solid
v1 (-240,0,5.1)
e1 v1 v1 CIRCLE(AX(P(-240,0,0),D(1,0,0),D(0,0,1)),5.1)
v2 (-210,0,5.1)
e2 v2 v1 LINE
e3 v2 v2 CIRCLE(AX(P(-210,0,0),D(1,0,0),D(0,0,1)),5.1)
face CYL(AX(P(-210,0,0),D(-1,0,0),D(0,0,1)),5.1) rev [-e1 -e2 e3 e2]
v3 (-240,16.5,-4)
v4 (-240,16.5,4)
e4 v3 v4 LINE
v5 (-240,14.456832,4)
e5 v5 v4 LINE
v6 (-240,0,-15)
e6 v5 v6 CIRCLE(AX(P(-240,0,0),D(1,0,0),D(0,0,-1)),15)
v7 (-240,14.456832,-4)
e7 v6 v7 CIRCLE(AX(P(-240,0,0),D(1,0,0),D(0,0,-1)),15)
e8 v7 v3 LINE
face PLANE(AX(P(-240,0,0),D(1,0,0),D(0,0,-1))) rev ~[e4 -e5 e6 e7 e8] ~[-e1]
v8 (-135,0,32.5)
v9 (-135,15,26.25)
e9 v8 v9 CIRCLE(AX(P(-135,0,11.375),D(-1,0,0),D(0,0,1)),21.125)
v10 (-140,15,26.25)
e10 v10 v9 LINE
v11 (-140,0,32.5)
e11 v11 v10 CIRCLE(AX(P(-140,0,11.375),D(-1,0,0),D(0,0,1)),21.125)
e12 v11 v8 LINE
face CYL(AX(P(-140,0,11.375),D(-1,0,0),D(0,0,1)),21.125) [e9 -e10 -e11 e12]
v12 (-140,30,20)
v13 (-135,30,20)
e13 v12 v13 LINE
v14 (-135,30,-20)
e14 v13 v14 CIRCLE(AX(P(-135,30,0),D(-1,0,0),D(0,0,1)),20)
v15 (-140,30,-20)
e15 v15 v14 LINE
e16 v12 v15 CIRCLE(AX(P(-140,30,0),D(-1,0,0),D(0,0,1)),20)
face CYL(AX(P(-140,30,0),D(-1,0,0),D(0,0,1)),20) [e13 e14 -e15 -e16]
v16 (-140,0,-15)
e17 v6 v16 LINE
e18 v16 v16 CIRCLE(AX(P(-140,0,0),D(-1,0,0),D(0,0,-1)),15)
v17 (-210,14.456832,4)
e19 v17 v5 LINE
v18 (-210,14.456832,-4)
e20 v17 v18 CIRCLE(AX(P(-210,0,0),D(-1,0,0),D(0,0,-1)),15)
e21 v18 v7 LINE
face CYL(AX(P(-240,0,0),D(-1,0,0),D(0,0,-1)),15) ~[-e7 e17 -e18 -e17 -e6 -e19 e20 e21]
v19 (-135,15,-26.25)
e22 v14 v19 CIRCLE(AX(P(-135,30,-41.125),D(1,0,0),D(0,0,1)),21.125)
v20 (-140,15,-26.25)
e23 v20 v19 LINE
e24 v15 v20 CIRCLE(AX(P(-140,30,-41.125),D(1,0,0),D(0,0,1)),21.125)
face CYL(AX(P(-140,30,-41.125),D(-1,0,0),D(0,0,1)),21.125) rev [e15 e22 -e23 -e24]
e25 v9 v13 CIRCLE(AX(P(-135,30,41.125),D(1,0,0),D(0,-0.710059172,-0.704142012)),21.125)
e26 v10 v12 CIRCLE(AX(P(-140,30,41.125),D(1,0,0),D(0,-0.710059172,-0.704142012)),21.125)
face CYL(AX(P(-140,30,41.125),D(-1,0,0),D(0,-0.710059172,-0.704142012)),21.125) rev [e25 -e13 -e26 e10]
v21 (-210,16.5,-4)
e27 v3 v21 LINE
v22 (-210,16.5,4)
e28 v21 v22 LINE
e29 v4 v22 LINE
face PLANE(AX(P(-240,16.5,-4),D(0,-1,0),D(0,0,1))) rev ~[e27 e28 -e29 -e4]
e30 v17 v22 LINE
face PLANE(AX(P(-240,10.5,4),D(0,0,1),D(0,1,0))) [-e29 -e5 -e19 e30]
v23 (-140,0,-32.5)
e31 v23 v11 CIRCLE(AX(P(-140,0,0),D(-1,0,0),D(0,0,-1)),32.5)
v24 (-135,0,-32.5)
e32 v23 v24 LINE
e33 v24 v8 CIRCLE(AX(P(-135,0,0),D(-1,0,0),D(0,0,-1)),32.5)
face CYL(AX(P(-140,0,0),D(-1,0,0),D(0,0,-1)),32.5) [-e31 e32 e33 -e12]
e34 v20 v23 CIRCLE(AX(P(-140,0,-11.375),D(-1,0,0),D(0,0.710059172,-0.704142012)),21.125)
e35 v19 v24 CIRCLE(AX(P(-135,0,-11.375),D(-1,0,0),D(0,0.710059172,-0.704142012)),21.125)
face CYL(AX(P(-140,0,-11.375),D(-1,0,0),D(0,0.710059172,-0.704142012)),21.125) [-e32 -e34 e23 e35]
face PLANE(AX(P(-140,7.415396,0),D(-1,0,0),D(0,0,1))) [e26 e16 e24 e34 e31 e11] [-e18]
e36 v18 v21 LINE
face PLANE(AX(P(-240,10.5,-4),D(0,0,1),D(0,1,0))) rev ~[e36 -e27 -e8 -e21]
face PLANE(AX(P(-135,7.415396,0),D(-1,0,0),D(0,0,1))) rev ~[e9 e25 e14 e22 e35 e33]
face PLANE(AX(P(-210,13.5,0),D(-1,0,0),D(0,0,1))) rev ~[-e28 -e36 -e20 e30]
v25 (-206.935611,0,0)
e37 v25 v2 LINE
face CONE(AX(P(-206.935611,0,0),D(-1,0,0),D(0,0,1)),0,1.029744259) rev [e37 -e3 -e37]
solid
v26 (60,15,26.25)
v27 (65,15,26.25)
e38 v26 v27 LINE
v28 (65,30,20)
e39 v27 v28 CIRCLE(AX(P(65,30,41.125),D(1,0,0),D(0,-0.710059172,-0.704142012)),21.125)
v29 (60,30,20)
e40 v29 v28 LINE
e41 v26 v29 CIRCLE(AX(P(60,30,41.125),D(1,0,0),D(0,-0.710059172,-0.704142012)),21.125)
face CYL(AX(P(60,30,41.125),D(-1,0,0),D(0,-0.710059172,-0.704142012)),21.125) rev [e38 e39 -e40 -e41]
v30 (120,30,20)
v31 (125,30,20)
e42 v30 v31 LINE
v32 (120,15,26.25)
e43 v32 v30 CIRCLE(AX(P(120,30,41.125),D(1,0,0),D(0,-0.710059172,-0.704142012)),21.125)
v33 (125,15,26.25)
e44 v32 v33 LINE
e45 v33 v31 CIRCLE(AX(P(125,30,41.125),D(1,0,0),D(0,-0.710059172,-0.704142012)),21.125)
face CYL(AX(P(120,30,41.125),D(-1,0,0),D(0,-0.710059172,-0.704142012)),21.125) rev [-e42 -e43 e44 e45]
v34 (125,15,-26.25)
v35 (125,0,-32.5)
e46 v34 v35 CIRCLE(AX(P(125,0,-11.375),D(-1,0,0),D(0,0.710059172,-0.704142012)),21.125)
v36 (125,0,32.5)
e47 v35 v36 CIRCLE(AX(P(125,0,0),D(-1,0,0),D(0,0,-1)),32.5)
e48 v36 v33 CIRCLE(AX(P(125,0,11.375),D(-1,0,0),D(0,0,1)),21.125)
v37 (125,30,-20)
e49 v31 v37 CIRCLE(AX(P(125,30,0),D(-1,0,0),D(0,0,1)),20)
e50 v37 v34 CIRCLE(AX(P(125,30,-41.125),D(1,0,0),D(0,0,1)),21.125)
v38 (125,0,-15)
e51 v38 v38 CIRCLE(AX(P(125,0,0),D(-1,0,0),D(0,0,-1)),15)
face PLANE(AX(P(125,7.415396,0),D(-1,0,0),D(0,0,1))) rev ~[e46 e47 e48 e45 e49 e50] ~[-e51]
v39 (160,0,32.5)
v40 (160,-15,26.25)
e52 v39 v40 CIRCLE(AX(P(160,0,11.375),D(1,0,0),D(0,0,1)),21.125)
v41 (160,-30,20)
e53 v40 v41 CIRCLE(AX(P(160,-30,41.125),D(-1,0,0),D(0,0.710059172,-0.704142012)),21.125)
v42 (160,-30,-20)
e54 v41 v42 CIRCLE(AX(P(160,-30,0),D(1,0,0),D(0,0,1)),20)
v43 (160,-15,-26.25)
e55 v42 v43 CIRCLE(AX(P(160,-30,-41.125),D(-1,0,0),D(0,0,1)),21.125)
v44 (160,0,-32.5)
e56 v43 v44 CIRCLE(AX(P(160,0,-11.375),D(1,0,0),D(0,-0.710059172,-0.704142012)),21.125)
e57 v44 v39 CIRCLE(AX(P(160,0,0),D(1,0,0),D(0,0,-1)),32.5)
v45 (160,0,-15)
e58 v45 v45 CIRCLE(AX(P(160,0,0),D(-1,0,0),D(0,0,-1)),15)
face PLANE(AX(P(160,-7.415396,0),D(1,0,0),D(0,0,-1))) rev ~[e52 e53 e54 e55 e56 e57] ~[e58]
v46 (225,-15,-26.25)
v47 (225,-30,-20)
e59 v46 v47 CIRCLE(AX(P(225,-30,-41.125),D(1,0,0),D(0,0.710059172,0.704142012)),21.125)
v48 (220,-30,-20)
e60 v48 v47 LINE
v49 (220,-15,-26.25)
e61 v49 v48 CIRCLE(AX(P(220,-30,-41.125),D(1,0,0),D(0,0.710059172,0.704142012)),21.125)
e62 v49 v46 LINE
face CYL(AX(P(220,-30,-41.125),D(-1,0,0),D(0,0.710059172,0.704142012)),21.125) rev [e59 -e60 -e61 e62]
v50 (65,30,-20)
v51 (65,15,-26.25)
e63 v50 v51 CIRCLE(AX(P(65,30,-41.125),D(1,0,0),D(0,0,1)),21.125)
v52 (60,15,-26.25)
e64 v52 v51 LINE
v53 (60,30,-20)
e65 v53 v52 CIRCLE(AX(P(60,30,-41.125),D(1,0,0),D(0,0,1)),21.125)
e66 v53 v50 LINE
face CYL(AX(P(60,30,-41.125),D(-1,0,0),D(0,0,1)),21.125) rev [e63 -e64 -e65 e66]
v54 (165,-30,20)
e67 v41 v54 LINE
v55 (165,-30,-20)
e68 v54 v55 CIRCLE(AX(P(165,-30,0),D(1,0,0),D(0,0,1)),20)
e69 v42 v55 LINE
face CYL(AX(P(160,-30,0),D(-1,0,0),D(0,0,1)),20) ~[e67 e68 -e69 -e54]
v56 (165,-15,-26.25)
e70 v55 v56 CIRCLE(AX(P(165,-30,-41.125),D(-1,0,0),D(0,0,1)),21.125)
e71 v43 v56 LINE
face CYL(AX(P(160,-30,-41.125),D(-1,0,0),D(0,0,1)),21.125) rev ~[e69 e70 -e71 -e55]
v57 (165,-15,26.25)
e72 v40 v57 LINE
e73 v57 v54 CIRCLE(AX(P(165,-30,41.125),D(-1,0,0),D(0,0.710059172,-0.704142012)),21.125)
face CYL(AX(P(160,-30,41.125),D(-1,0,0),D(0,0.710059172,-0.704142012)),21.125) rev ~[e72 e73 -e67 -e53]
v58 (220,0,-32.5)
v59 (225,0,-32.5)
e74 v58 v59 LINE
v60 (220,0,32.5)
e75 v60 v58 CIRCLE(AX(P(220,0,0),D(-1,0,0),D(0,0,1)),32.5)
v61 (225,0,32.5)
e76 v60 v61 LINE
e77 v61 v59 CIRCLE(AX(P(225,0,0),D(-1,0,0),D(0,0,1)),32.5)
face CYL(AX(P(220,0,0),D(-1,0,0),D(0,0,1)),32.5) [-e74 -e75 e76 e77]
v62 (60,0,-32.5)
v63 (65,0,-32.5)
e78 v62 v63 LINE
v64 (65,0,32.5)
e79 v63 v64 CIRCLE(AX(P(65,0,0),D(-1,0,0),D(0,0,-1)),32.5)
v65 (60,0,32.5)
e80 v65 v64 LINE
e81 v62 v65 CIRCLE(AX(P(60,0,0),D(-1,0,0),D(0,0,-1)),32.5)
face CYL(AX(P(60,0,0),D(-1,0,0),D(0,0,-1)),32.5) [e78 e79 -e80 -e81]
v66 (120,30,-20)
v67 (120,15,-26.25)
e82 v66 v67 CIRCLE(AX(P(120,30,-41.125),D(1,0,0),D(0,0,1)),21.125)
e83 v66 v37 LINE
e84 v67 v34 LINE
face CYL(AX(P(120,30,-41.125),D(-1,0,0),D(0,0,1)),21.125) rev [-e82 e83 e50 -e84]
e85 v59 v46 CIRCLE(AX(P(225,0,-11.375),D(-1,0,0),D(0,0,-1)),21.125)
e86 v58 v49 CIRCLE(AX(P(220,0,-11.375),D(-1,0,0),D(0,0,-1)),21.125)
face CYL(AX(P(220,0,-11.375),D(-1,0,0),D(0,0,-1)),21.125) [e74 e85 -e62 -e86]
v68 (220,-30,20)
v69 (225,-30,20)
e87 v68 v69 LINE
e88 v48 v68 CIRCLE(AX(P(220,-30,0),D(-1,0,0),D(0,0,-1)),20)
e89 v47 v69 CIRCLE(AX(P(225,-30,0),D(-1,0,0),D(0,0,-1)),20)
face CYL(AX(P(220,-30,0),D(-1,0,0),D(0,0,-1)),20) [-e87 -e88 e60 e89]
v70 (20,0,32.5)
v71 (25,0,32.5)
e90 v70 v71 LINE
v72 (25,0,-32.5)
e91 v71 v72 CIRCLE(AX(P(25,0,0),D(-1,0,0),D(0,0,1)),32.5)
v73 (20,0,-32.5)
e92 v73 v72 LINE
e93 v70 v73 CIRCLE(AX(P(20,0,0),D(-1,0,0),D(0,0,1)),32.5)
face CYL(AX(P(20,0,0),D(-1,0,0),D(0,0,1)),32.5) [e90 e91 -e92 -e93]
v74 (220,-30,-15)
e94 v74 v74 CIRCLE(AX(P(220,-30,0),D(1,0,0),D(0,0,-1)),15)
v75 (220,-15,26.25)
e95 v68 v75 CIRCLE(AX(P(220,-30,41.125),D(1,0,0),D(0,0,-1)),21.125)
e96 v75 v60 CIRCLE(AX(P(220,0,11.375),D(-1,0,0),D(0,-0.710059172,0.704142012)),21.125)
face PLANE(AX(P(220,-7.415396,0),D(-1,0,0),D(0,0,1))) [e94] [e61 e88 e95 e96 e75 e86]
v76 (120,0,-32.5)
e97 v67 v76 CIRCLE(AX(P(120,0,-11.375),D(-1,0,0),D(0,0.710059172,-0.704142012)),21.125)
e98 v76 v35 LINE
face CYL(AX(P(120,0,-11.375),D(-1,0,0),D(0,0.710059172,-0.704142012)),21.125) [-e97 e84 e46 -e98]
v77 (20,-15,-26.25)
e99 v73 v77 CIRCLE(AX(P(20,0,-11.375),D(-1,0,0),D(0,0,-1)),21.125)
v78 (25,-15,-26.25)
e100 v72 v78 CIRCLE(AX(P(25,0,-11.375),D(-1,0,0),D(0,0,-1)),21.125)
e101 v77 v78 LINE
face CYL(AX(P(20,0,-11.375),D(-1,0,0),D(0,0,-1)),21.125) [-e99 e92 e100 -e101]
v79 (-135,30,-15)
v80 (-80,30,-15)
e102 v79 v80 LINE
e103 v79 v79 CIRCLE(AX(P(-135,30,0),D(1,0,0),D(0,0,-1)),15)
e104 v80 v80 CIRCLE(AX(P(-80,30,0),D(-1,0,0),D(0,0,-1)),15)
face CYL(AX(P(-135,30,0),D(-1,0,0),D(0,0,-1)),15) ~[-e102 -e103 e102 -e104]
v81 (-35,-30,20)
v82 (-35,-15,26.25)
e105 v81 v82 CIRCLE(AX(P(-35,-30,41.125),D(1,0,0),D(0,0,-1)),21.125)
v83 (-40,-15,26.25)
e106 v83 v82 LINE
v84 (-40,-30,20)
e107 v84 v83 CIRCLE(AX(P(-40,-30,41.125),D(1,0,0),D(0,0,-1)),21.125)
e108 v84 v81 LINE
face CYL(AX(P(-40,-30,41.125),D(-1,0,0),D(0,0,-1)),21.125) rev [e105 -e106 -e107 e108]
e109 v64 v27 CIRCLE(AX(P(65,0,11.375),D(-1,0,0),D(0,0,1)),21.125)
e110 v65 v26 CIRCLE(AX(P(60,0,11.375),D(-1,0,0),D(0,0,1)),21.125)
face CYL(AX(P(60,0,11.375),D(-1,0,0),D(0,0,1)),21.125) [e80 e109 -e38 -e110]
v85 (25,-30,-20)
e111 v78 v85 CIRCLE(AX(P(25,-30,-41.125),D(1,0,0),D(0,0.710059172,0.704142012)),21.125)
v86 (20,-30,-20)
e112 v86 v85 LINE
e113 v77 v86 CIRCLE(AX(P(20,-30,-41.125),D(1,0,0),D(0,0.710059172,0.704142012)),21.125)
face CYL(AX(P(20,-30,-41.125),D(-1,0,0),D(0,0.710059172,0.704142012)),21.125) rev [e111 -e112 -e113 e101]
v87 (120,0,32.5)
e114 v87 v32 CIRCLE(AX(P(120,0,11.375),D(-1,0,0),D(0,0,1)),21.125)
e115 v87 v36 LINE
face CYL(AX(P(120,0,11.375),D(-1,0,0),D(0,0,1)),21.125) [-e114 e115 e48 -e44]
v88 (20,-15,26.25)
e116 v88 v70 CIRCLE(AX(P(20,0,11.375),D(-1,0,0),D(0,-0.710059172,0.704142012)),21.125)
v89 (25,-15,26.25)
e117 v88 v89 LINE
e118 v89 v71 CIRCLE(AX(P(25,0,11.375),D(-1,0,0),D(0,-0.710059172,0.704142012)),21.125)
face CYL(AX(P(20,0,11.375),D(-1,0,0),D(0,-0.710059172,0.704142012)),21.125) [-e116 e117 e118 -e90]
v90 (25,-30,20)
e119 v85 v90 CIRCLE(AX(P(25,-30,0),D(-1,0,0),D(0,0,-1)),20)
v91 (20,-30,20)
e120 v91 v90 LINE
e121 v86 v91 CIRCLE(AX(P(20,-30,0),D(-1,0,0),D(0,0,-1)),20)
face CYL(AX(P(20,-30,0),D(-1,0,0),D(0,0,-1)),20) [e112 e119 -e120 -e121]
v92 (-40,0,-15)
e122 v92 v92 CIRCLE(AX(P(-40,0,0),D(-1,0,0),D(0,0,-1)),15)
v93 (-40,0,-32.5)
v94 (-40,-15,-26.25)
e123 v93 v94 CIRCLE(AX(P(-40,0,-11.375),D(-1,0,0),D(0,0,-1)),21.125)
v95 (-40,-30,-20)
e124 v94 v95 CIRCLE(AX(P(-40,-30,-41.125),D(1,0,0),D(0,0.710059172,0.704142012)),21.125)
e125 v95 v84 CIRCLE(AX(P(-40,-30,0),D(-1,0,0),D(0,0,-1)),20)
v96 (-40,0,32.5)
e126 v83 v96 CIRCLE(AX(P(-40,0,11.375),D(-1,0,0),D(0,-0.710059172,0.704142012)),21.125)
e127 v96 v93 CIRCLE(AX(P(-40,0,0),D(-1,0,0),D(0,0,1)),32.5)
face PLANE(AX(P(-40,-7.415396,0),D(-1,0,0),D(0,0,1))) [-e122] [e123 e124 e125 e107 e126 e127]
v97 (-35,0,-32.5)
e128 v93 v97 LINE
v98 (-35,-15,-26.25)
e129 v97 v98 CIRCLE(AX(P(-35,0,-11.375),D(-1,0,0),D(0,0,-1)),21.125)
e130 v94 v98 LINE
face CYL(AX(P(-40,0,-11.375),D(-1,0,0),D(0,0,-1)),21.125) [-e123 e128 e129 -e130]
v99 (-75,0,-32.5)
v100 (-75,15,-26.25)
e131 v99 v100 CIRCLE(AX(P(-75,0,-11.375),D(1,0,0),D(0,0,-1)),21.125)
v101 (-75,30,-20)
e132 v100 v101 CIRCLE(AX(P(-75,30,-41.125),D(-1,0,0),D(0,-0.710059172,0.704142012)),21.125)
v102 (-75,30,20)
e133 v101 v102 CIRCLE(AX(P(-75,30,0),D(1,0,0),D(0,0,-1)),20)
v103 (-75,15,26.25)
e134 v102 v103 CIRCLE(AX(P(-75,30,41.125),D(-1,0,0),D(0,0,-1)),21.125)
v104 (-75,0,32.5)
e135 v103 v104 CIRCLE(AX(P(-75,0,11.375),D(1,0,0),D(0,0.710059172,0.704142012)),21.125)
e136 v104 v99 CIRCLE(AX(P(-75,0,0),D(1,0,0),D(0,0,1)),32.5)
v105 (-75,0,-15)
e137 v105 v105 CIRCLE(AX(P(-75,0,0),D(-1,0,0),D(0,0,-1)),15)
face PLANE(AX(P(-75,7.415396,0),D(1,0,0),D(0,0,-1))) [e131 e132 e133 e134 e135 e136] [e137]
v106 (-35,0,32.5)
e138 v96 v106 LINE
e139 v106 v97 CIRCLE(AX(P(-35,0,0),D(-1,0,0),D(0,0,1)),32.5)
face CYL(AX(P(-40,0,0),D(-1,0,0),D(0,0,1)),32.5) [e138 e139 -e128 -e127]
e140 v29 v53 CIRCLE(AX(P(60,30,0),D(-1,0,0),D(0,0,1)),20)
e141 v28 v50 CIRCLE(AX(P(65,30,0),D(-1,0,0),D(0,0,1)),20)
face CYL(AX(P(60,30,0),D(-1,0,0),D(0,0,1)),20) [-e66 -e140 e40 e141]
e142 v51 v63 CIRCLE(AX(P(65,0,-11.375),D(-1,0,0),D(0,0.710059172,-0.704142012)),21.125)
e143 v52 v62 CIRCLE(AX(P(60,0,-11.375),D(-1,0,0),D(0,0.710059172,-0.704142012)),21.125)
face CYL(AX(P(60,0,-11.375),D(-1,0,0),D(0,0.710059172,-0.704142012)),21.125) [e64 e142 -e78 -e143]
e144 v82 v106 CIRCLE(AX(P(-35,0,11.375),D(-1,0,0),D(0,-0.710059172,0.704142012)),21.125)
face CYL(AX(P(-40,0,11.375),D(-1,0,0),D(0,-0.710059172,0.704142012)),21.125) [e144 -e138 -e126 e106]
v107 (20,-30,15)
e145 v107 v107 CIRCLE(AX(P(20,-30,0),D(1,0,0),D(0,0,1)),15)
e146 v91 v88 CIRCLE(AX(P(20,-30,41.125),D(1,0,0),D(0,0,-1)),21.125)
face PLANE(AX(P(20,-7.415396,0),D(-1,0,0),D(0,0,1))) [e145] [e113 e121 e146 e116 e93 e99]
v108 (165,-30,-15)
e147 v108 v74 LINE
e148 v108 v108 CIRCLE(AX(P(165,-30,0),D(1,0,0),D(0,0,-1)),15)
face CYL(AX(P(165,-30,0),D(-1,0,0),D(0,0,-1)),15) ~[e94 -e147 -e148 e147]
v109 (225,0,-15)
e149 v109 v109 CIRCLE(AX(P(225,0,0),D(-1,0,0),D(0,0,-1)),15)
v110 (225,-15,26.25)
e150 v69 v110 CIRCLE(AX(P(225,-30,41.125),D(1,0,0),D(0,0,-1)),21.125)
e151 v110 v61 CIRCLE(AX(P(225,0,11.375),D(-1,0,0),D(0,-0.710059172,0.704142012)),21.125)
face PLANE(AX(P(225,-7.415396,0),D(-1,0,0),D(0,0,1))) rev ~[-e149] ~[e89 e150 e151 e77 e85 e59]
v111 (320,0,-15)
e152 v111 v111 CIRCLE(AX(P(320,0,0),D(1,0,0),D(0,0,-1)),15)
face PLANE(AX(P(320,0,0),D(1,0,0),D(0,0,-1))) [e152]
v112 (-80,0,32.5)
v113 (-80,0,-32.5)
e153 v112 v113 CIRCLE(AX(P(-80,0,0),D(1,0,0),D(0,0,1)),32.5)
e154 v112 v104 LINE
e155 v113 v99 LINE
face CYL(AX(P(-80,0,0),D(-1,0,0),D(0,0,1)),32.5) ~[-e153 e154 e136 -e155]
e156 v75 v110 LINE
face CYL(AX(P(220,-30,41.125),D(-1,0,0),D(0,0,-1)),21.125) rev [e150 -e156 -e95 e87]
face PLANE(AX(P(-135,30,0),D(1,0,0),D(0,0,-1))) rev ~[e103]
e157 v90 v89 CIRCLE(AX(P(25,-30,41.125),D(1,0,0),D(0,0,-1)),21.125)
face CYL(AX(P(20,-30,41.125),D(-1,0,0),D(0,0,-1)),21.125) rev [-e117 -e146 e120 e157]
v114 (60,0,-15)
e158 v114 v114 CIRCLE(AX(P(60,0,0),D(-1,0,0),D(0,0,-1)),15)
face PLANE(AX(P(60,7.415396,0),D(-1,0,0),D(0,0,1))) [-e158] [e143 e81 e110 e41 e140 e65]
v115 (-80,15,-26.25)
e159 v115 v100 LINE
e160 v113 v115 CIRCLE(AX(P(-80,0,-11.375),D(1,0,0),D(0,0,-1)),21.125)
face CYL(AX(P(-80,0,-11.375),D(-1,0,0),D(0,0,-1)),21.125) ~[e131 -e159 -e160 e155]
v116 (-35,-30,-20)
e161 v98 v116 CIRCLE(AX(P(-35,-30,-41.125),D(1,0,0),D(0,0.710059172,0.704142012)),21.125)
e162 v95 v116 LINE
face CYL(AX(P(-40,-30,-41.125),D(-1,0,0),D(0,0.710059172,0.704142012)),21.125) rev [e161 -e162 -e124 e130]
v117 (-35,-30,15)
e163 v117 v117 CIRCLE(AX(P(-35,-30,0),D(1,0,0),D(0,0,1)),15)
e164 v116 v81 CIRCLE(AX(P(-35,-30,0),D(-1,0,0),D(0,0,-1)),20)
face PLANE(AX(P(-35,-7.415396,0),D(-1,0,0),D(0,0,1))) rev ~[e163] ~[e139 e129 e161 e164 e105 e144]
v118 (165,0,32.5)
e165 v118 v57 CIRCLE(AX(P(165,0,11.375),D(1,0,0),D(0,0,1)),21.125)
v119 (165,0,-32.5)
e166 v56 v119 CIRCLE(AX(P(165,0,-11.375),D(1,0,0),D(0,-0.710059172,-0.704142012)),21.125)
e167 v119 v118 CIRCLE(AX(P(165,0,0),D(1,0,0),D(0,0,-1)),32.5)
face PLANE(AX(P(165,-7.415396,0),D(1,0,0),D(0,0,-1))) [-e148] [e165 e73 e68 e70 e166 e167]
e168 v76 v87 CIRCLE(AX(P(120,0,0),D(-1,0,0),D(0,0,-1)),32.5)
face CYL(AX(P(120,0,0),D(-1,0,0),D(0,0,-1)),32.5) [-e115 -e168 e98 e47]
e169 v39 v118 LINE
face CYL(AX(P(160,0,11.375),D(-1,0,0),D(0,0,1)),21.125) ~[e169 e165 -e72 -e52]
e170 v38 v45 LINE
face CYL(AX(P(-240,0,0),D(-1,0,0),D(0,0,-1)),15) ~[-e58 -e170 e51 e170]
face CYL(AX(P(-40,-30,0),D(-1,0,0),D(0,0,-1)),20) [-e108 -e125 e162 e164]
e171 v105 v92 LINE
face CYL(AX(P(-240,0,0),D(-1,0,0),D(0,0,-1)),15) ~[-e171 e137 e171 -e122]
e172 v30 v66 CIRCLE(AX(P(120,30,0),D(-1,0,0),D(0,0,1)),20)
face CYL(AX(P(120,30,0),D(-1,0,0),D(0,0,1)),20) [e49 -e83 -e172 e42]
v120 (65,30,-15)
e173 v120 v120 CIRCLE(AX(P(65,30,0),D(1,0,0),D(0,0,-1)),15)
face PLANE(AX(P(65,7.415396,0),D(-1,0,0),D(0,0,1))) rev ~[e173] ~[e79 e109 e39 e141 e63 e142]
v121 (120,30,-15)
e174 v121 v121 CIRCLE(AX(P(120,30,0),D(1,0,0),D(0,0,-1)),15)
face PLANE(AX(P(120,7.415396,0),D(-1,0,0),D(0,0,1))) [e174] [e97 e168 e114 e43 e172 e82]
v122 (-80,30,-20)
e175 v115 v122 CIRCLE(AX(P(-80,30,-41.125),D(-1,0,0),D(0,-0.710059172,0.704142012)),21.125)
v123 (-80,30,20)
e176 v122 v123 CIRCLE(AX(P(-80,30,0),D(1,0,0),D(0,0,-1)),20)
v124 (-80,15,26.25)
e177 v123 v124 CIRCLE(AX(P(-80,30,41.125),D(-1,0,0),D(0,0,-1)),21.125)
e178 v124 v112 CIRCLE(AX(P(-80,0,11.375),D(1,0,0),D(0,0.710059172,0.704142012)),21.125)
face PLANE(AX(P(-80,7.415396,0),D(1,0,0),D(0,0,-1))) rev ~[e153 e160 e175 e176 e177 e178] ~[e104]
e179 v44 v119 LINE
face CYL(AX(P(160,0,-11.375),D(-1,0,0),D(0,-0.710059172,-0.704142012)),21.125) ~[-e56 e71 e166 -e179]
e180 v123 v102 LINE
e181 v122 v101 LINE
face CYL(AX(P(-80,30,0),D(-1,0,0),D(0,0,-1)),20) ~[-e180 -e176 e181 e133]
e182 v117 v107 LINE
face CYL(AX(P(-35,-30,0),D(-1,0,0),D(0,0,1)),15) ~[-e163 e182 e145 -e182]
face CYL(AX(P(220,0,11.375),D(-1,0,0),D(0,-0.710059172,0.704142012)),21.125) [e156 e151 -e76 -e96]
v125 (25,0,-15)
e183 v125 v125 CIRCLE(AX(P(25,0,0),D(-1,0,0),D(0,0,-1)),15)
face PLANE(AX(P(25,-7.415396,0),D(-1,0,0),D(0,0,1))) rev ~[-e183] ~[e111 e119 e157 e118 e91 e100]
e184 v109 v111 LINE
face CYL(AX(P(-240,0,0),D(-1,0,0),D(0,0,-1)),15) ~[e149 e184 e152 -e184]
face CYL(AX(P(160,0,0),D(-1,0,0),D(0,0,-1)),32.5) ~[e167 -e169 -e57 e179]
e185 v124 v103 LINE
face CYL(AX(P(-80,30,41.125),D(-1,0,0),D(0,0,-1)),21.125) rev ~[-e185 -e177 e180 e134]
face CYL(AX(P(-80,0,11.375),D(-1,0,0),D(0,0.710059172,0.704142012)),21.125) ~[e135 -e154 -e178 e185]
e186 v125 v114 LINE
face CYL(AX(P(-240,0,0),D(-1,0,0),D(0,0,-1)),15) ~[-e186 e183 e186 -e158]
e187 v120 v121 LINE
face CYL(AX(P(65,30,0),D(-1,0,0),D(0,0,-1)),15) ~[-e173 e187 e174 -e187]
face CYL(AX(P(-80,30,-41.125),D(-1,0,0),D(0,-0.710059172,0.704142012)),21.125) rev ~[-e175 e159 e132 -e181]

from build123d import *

# Parameters (mm, degrees)
BOSS_EXTRUDE1_DEPTH       = 320
BOSS_EXTRUDE1_DEPTH_BACK  = 240
SKETCH1_R                 = 15
BOSS_EXTRUDE2_DEPTH       = 2.5
BOSS_EXTRUDE2_DEPTH_BACK  = 2.5
BOSS_EXTRUDE2_START       = -20
BOSS_EXTRUDE4_DEPTH       = 2.5
BOSS_EXTRUDE4_DEPTH_BACK  = 2.5
BOSS_EXTRUDE4_START       = 20
BOSS_EXTRUDE5_DEPTH       = 2.5
BOSS_EXTRUDE5_DEPTH_BACK  = 2.5
BOSS_EXTRUDE5_START       = -20
SKETCH7_R                 = 15
CUT_EXTRUDE1_DEPTH        = 55
SKETCH6_R                 = 15
BOSS_EXTRUDE6_DEPTH       = 55
BOSS_EXTRUDE7_DEPTH       = 2.5
BOSS_EXTRUDE7_DEPTH_BACK  = 2.5
BOSS_EXTRUDE7_START       = 20
BOSS_EXTRUDE8_DEPTH       = 2.5
BOSS_EXTRUDE8_DEPTH_BACK  = 2.5
BOSS_EXTRUDE8_START       = -20
SKETCH11_R                = 15
CUT_EXTRUDE2_DEPTH        = 55
SKETCH10_R                = 15
BOSS_EXTRUDE11_DEPTH      = 55
BOSS_EXTRUDE12_DEPTH      = 2.5
BOSS_EXTRUDE12_DEPTH_BACK = 2.5
BOSS_EXTRUDE12_START      = 20
BOSS_EXTRUDE13_DEPTH      = 2.5
BOSS_EXTRUDE13_DEPTH_BACK = 2.5
BOSS_EXTRUDE13_START      = 80
SKETCH15_R                = 15
CUT_EXTRUDE3_DEPTH        = 55
SKETCH14_R                = 15
BOSS_EXTRUDE14_DEPTH      = 55
BOSS_EXTRUDE15_DEPTH      = 2.5
BOSS_EXTRUDE15_DEPTH_BACK = 2.5
BOSS_EXTRUDE15_START      = -80
SKETCH19_R                = 15
CUT_EXTRUDE4_DEPTH        = 55
BOSS_EXTRUDE16_REACH      = 460.891
SKETCH18_R                = 15
SKETCH23_W                = 8
SKETCH23_H                = 6
BOSS_EXTRUDE17_DEPTH      = 30


with BuildPart() as part:
    # Sketch1 → Boss-Extrude1 (new, two sides: drawn at the far end of the back side and taken through both)
    with BuildSketch(Plane(origin=(0, 0, 0), x_dir=(0, 0, -1), z_dir=(1, 0, 0)).offset(-BOSS_EXTRUDE1_DEPTH_BACK)):
        Circle(SKETCH1_R)
    extrude(amount=BOSS_EXTRUDE1_DEPTH + BOSS_EXTRUDE1_DEPTH_BACK)

    # Sketch3 → Boss-Extrude2 (add, two sides: drawn at the far end of the back side and taken through both)
    with BuildSketch(Plane(origin=(-57.5, 0, 0), x_dir=(0, 0, -1), z_dir=(1, 0, 0)).offset(BOSS_EXTRUDE2_START - BOSS_EXTRUDE2_DEPTH_BACK)):
        with BuildLine():
            ThreePointArc((-32.5, 0), (0, -32.5), (32.5, 0))
            ThreePointArc((32.5, 0), (30.875, 8.125), (26.25, 15))
            ThreePointArc((26.25, 15), (21.625, 21.875), (20, 30))
            ThreePointArc((20, 30), (0, 50), (-20, 30))
            ThreePointArc((-20, 30), (-21.625, 21.875), (-26.25, 15))
            ThreePointArc((-26.25, 15), (-30.875, 8.125), (-32.5, 0))
        make_face()
    extrude(amount=BOSS_EXTRUDE2_DEPTH + BOSS_EXTRUDE2_DEPTH_BACK)

    # Sketch4 → Boss-Extrude4 (add, two sides: drawn at the far end of the back side and taken through both)
    with BuildSketch(Plane(origin=(-57.5, 0, 0), x_dir=(0, 0, -1), z_dir=(1, 0, 0)).offset(BOSS_EXTRUDE4_START - BOSS_EXTRUDE4_DEPTH_BACK)):
        with BuildLine():
            ThreePointArc((-32.5, 0), (0, 32.5), (32.5, 0))
            ThreePointArc((32.5, 0), (30.875, -8.125), (26.25, -15))
            ThreePointArc((26.25, -15), (21.625, -21.875), (20, -30))
            ThreePointArc((20, -30), (0, -50), (-20, -30))
            ThreePointArc((-20, -30), (-21.625, -21.875), (-26.25, -15))
            ThreePointArc((-26.25, -15), (-30.875, -8.125), (-32.5, 0))
        make_face()
    extrude(amount=BOSS_EXTRUDE4_DEPTH + BOSS_EXTRUDE4_DEPTH_BACK)

    # Sketch5 → Boss-Extrude5 (add, two sides: drawn at the far end of the back side and taken through both)
    with BuildSketch(Plane(origin=(42.5, 0, 0), x_dir=(0, 0, -1), z_dir=(1, 0, 0)).offset(BOSS_EXTRUDE5_START - BOSS_EXTRUDE5_DEPTH_BACK)):
        with BuildLine():
            ThreePointArc((-32.5, 0), (0, 32.5), (32.5, 0))
            ThreePointArc((32.5, 0), (30.875, -8.125), (26.25, -15))
            ThreePointArc((26.25, -15), (21.625, -21.875), (20, -30))
            ThreePointArc((20, -30), (0, -50), (-20, -30))
            ThreePointArc((-20, -30), (-21.625, -21.875), (-26.25, -15))
            ThreePointArc((-26.25, -15), (-30.875, -8.125), (-32.5, 0))
        make_face()
    extrude(amount=BOSS_EXTRUDE5_DEPTH + BOSS_EXTRUDE5_DEPTH_BACK)

    # Sketch7 → Cut-Extrude1 (cut)
    with BuildSketch(Plane(origin=(-35, 0, 0), x_dir=(0, 0, -1), z_dir=(1, 0, 0))):
        Circle(SKETCH7_R)
    extrude(amount=CUT_EXTRUDE1_DEPTH, mode=Mode.SUBTRACT)


with BuildPart() as cut_extrude1_piece_1:
    # of the separate pieces the step leaves, piece 1, a body of its own (cut_extrude1_pieces)
    add(part.part.solids().sort_by_distance((20, -15, 26.25))[0])



with BuildPart() as cut_extrude1_piece_2:
    # of the separate pieces the step leaves, piece 2, a body of its own (cut_extrude1_pieces)
    add(part.part.solids().sort_by_distance((-35, -15, 26.25))[0])


with BuildPart() as cut_extrude1_piece_1_1:
    add(cut_extrude1_piece_1.part)

    add(cut_extrude1_piece_2.part)  # Boss-Extrude6 merges Cut-Extrude1 piece 2
    # Sketch6 → Boss-Extrude6 (add)
    with BuildSketch(Plane(origin=(-35, 0, 0), x_dir=(0, 0, -1), z_dir=(1, 0, 0))):
        with Locations(Location((0, -30, 0), (0, 0, 180))):
            Circle(SKETCH6_R)
    extrude(amount=BOSS_EXTRUDE6_DEPTH)

    # Sketch8 → Boss-Extrude7 (add, two sides: drawn at the far end of the back side and taken through both)
    with BuildSketch(Plane(origin=(42.5, 0, 0), x_dir=(0, 0, -1), z_dir=(1, 0, 0)).offset(BOSS_EXTRUDE7_START - BOSS_EXTRUDE7_DEPTH_BACK)):
        with BuildLine():
            ThreePointArc((-20, 30), (0, 50), (20, 30))
            ThreePointArc((20, 30), (21.625, 21.875), (26.25, 15))
            ThreePointArc((26.25, 15), (30.875, 8.125), (32.5, 0))
            ThreePointArc((32.5, 0), (0, -32.5), (-32.5, 0))
            ThreePointArc((-32.5, 0), (-30.875, 8.125), (-26.25, 15))
            ThreePointArc((-26.25, 15), (-21.625, 21.875), (-20, 30))
        make_face()
    extrude(amount=BOSS_EXTRUDE7_DEPTH + BOSS_EXTRUDE7_DEPTH_BACK)

    # Sketch9 → Boss-Extrude8 (add, two sides: drawn at the far end of the back side and taken through both)
    with BuildSketch(Plane(origin=(142.5, 0, 0), x_dir=(0, 0, -1), z_dir=(1, 0, 0)).offset(BOSS_EXTRUDE8_START - BOSS_EXTRUDE8_DEPTH_BACK)):
        with BuildLine():
            ThreePointArc((-20, 30), (0, 50), (20, 30))
            ThreePointArc((20, 30), (21.625, 21.875), (26.25, 15))
            ThreePointArc((26.25, 15), (30.875, 8.125), (32.5, 0))
            ThreePointArc((32.5, 0), (0, -32.5), (-32.5, 0))
            ThreePointArc((-32.5, 0), (-30.875, 8.125), (-26.25, 15))
            ThreePointArc((-26.25, 15), (-21.625, 21.875), (-20, 30))
        make_face()
    extrude(amount=BOSS_EXTRUDE8_DEPTH + BOSS_EXTRUDE8_DEPTH_BACK)

    # Sketch11 → Cut-Extrude2 (cut)
    with BuildSketch(Plane(origin=(65, 0, 0), x_dir=(0, 0, -1), z_dir=(1, 0, 0))):
        Circle(SKETCH11_R)
    extrude(amount=CUT_EXTRUDE2_DEPTH, mode=Mode.SUBTRACT)


with BuildPart() as cut_extrude2_piece_1:
    # of the separate pieces the step leaves, piece 1, a body of its own (cut_extrude2_pieces)
    add(cut_extrude1_piece_1_1.part.solids().sort_by_distance((-35, -15, 26.25))[0])



with BuildPart() as cut_extrude2_piece_2:
    # of the separate pieces the step leaves, piece 2, a body of its own (cut_extrude2_pieces)
    add(cut_extrude1_piece_1_1.part.solids().sort_by_distance((120, 0, 32.5))[0])


with BuildPart() as cut_extrude2_piece_1_1:
    add(cut_extrude2_piece_1.part)

    add(cut_extrude2_piece_2.part)  # Boss-Extrude11 merges Cut-Extrude2 piece 2
    # Sketch10 → Boss-Extrude11 (add)
    with BuildSketch(Plane(origin=(65, 0, 0), x_dir=(0, 0, -1), z_dir=(1, 0, 0))):
        with Locations((0, 30)):
            Circle(SKETCH10_R)
    extrude(amount=BOSS_EXTRUDE11_DEPTH)

    # Sketch12 → Boss-Extrude12 (add, two sides: drawn at the far end of the back side and taken through both)
    with BuildSketch(Plane(origin=(142.5, 0, 0), x_dir=(0, 0, -1), z_dir=(1, 0, 0)).offset(BOSS_EXTRUDE12_START - BOSS_EXTRUDE12_DEPTH_BACK)):
        with BuildLine():
            ThreePointArc((-20, -30), (0, -50), (20, -30))
            ThreePointArc((20, -30), (21.625, -21.875), (26.25, -15))
            ThreePointArc((26.25, -15), (30.875, -8.125), (32.5, 0))
            ThreePointArc((32.5, 0), (0, 32.5), (-32.5, 0))
            ThreePointArc((-32.5, 0), (-30.875, -8.125), (-26.25, -15))
            ThreePointArc((-26.25, -15), (-21.625, -21.875), (-20, -30))
        make_face()
    extrude(amount=BOSS_EXTRUDE12_DEPTH + BOSS_EXTRUDE12_DEPTH_BACK)

    # Sketch13 → Boss-Extrude13 (add, two sides: drawn at the far end of the back side and taken through both)
    with BuildSketch(Plane(origin=(142.5, 0, 0), x_dir=(0, 0, -1), z_dir=(1, 0, 0)).offset(BOSS_EXTRUDE13_START - BOSS_EXTRUDE13_DEPTH_BACK)):
        with BuildLine():
            ThreePointArc((-32.5, 0), (0, 32.5), (32.5, 0))
            ThreePointArc((32.5, 0), (30.875, -8.125), (26.25, -15))
            ThreePointArc((26.25, -15), (21.625, -21.875), (20, -30))
            ThreePointArc((20, -30), (0, -50), (-20, -30))
            ThreePointArc((-20, -30), (-21.625, -21.875), (-26.25, -15))
            ThreePointArc((-26.25, -15), (-30.875, -8.125), (-32.5, 0))
        make_face()
    extrude(amount=BOSS_EXTRUDE13_DEPTH + BOSS_EXTRUDE13_DEPTH_BACK)

    # Sketch15 → Cut-Extrude3 (cut)
    with BuildSketch(Plane(origin=(165, 0, 0), x_dir=(0, 0, -1), z_dir=(1, 0, 0))):
        Circle(SKETCH15_R)
    extrude(amount=CUT_EXTRUDE3_DEPTH, mode=Mode.SUBTRACT)


with BuildPart() as cut_extrude3_piece_1:
    # of the separate pieces the step leaves, piece 1, a body of its own (cut_extrude3_pieces)
    add(cut_extrude2_piece_1_1.part.solids().sort_by_distance((120, 0, 32.5))[0])



with BuildPart() as cut_extrude3_piece_2:
    # of the separate pieces the step leaves, piece 2, a body of its own (cut_extrude3_pieces)
    add(cut_extrude2_piece_1_1.part.solids().sort_by_distance((220, -15, 26.25))[0])


with BuildPart() as cut_extrude3_piece_1_1:
    add(cut_extrude3_piece_1.part)

    add(cut_extrude3_piece_2.part)  # Boss-Extrude14 merges Cut-Extrude3 piece 2
    # Sketch14 → Boss-Extrude14 (add)
    with BuildSketch(Plane(origin=(165, 0, 0), x_dir=(0, 0, -1), z_dir=(1, 0, 0))):
        with Locations((0, -30)):
            Circle(SKETCH14_R)
    extrude(amount=BOSS_EXTRUDE14_DEPTH)

    # Sketch17 → Boss-Extrude15 (add, two sides: drawn at the far end of the back side and taken through both)
    with BuildSketch(Plane(origin=(-57.5, 0, 0), x_dir=(0, 0, -1), z_dir=(1, 0, 0)).offset(BOSS_EXTRUDE15_START - BOSS_EXTRUDE15_DEPTH_BACK)):
        with BuildLine():
            ThreePointArc((-20, 30), (0, 50), (20, 30))
            ThreePointArc((20, 30), (21.625, 21.875), (26.25, 15))
            ThreePointArc((26.25, 15), (30.875, 8.125), (32.5, 0))
            ThreePointArc((32.5, 0), (0, -32.5), (-32.5, 0))
            ThreePointArc((-32.5, 0), (-30.875, 8.125), (-26.25, 15))
            ThreePointArc((-26.25, 15), (-21.625, 21.875), (-20, 30))
        make_face()
    extrude(amount=BOSS_EXTRUDE15_DEPTH + BOSS_EXTRUDE15_DEPTH_BACK)

    # Sketch19 → Cut-Extrude4 (cut)
    with BuildSketch(Plane(origin=(-135, 0, 0), x_dir=(0, 0, -1), z_dir=(1, 0, 0))):
        Circle(SKETCH19_R)
    extrude(amount=CUT_EXTRUDE4_DEPTH, mode=Mode.SUBTRACT)


with BuildPart() as cut_extrude4_piece_1:
    # of the separate pieces the step leaves, piece 1, a body of its own (cut_extrude4_pieces)
    add(cut_extrude3_piece_1_1.part.solids().sort_by_distance((220, -15, 26.25))[0])

    # Sketch18 → Boss-Extrude16 (add, up to next)
    with BuildSketch(Plane(origin=(-135, 0, 0), x_dir=(0, 0, -1), z_dir=(1, 0, 0)), mode=Mode.PRIVATE) as boss_extrude16_sk1:
        with Locations((0, 30)):
            Circle(SKETCH18_R)
    boss_extrude16_tool1 = extrude(boss_extrude16_sk1.sketch, amount=BOSS_EXTRUDE16_REACH, mode=Mode.PRIVATE) - cut_extrude4_piece_1.part
    add(boss_extrude16_tool1.solids().sort_by_distance((-135, 30, 0))[0])


with BuildPart() as cut_extrude4_piece_2:
    # of the separate pieces the step leaves, piece 2, a body of its own (cut_extrude4_pieces)
    add(cut_extrude3_piece_1_1.part.solids().sort_by_distance((-135, 0, 32.5))[0])

    # Sketch22 → Tap Drill for M12 Tap1 (revolve, cut)
    with BuildSketch(Plane(origin=(-240, 0, 0), x_dir=(0, 0, 1), z_dir=(0, 1, 0))):
        Polygon((0, 0), (0, 33.064389157), (5.1, 30), (5.1, 0), align=None)
    revolve(axis=Axis((-246.35, 0, 0), (1, 0, 0)), mode=Mode.SUBTRACT)

    # Sketch23 → Boss-Extrude17 (add)
    with BuildSketch(Plane.ZY.offset(240)):
        with Locations((0, 13.5)):
            Rectangle(SKETCH23_W, SKETCH23_H)
    extrude(amount=-BOSS_EXTRUDE17_DEPTH)


solid = Compound([cut_extrude4_piece_1.part, cut_extrude4_piece_2.part])
